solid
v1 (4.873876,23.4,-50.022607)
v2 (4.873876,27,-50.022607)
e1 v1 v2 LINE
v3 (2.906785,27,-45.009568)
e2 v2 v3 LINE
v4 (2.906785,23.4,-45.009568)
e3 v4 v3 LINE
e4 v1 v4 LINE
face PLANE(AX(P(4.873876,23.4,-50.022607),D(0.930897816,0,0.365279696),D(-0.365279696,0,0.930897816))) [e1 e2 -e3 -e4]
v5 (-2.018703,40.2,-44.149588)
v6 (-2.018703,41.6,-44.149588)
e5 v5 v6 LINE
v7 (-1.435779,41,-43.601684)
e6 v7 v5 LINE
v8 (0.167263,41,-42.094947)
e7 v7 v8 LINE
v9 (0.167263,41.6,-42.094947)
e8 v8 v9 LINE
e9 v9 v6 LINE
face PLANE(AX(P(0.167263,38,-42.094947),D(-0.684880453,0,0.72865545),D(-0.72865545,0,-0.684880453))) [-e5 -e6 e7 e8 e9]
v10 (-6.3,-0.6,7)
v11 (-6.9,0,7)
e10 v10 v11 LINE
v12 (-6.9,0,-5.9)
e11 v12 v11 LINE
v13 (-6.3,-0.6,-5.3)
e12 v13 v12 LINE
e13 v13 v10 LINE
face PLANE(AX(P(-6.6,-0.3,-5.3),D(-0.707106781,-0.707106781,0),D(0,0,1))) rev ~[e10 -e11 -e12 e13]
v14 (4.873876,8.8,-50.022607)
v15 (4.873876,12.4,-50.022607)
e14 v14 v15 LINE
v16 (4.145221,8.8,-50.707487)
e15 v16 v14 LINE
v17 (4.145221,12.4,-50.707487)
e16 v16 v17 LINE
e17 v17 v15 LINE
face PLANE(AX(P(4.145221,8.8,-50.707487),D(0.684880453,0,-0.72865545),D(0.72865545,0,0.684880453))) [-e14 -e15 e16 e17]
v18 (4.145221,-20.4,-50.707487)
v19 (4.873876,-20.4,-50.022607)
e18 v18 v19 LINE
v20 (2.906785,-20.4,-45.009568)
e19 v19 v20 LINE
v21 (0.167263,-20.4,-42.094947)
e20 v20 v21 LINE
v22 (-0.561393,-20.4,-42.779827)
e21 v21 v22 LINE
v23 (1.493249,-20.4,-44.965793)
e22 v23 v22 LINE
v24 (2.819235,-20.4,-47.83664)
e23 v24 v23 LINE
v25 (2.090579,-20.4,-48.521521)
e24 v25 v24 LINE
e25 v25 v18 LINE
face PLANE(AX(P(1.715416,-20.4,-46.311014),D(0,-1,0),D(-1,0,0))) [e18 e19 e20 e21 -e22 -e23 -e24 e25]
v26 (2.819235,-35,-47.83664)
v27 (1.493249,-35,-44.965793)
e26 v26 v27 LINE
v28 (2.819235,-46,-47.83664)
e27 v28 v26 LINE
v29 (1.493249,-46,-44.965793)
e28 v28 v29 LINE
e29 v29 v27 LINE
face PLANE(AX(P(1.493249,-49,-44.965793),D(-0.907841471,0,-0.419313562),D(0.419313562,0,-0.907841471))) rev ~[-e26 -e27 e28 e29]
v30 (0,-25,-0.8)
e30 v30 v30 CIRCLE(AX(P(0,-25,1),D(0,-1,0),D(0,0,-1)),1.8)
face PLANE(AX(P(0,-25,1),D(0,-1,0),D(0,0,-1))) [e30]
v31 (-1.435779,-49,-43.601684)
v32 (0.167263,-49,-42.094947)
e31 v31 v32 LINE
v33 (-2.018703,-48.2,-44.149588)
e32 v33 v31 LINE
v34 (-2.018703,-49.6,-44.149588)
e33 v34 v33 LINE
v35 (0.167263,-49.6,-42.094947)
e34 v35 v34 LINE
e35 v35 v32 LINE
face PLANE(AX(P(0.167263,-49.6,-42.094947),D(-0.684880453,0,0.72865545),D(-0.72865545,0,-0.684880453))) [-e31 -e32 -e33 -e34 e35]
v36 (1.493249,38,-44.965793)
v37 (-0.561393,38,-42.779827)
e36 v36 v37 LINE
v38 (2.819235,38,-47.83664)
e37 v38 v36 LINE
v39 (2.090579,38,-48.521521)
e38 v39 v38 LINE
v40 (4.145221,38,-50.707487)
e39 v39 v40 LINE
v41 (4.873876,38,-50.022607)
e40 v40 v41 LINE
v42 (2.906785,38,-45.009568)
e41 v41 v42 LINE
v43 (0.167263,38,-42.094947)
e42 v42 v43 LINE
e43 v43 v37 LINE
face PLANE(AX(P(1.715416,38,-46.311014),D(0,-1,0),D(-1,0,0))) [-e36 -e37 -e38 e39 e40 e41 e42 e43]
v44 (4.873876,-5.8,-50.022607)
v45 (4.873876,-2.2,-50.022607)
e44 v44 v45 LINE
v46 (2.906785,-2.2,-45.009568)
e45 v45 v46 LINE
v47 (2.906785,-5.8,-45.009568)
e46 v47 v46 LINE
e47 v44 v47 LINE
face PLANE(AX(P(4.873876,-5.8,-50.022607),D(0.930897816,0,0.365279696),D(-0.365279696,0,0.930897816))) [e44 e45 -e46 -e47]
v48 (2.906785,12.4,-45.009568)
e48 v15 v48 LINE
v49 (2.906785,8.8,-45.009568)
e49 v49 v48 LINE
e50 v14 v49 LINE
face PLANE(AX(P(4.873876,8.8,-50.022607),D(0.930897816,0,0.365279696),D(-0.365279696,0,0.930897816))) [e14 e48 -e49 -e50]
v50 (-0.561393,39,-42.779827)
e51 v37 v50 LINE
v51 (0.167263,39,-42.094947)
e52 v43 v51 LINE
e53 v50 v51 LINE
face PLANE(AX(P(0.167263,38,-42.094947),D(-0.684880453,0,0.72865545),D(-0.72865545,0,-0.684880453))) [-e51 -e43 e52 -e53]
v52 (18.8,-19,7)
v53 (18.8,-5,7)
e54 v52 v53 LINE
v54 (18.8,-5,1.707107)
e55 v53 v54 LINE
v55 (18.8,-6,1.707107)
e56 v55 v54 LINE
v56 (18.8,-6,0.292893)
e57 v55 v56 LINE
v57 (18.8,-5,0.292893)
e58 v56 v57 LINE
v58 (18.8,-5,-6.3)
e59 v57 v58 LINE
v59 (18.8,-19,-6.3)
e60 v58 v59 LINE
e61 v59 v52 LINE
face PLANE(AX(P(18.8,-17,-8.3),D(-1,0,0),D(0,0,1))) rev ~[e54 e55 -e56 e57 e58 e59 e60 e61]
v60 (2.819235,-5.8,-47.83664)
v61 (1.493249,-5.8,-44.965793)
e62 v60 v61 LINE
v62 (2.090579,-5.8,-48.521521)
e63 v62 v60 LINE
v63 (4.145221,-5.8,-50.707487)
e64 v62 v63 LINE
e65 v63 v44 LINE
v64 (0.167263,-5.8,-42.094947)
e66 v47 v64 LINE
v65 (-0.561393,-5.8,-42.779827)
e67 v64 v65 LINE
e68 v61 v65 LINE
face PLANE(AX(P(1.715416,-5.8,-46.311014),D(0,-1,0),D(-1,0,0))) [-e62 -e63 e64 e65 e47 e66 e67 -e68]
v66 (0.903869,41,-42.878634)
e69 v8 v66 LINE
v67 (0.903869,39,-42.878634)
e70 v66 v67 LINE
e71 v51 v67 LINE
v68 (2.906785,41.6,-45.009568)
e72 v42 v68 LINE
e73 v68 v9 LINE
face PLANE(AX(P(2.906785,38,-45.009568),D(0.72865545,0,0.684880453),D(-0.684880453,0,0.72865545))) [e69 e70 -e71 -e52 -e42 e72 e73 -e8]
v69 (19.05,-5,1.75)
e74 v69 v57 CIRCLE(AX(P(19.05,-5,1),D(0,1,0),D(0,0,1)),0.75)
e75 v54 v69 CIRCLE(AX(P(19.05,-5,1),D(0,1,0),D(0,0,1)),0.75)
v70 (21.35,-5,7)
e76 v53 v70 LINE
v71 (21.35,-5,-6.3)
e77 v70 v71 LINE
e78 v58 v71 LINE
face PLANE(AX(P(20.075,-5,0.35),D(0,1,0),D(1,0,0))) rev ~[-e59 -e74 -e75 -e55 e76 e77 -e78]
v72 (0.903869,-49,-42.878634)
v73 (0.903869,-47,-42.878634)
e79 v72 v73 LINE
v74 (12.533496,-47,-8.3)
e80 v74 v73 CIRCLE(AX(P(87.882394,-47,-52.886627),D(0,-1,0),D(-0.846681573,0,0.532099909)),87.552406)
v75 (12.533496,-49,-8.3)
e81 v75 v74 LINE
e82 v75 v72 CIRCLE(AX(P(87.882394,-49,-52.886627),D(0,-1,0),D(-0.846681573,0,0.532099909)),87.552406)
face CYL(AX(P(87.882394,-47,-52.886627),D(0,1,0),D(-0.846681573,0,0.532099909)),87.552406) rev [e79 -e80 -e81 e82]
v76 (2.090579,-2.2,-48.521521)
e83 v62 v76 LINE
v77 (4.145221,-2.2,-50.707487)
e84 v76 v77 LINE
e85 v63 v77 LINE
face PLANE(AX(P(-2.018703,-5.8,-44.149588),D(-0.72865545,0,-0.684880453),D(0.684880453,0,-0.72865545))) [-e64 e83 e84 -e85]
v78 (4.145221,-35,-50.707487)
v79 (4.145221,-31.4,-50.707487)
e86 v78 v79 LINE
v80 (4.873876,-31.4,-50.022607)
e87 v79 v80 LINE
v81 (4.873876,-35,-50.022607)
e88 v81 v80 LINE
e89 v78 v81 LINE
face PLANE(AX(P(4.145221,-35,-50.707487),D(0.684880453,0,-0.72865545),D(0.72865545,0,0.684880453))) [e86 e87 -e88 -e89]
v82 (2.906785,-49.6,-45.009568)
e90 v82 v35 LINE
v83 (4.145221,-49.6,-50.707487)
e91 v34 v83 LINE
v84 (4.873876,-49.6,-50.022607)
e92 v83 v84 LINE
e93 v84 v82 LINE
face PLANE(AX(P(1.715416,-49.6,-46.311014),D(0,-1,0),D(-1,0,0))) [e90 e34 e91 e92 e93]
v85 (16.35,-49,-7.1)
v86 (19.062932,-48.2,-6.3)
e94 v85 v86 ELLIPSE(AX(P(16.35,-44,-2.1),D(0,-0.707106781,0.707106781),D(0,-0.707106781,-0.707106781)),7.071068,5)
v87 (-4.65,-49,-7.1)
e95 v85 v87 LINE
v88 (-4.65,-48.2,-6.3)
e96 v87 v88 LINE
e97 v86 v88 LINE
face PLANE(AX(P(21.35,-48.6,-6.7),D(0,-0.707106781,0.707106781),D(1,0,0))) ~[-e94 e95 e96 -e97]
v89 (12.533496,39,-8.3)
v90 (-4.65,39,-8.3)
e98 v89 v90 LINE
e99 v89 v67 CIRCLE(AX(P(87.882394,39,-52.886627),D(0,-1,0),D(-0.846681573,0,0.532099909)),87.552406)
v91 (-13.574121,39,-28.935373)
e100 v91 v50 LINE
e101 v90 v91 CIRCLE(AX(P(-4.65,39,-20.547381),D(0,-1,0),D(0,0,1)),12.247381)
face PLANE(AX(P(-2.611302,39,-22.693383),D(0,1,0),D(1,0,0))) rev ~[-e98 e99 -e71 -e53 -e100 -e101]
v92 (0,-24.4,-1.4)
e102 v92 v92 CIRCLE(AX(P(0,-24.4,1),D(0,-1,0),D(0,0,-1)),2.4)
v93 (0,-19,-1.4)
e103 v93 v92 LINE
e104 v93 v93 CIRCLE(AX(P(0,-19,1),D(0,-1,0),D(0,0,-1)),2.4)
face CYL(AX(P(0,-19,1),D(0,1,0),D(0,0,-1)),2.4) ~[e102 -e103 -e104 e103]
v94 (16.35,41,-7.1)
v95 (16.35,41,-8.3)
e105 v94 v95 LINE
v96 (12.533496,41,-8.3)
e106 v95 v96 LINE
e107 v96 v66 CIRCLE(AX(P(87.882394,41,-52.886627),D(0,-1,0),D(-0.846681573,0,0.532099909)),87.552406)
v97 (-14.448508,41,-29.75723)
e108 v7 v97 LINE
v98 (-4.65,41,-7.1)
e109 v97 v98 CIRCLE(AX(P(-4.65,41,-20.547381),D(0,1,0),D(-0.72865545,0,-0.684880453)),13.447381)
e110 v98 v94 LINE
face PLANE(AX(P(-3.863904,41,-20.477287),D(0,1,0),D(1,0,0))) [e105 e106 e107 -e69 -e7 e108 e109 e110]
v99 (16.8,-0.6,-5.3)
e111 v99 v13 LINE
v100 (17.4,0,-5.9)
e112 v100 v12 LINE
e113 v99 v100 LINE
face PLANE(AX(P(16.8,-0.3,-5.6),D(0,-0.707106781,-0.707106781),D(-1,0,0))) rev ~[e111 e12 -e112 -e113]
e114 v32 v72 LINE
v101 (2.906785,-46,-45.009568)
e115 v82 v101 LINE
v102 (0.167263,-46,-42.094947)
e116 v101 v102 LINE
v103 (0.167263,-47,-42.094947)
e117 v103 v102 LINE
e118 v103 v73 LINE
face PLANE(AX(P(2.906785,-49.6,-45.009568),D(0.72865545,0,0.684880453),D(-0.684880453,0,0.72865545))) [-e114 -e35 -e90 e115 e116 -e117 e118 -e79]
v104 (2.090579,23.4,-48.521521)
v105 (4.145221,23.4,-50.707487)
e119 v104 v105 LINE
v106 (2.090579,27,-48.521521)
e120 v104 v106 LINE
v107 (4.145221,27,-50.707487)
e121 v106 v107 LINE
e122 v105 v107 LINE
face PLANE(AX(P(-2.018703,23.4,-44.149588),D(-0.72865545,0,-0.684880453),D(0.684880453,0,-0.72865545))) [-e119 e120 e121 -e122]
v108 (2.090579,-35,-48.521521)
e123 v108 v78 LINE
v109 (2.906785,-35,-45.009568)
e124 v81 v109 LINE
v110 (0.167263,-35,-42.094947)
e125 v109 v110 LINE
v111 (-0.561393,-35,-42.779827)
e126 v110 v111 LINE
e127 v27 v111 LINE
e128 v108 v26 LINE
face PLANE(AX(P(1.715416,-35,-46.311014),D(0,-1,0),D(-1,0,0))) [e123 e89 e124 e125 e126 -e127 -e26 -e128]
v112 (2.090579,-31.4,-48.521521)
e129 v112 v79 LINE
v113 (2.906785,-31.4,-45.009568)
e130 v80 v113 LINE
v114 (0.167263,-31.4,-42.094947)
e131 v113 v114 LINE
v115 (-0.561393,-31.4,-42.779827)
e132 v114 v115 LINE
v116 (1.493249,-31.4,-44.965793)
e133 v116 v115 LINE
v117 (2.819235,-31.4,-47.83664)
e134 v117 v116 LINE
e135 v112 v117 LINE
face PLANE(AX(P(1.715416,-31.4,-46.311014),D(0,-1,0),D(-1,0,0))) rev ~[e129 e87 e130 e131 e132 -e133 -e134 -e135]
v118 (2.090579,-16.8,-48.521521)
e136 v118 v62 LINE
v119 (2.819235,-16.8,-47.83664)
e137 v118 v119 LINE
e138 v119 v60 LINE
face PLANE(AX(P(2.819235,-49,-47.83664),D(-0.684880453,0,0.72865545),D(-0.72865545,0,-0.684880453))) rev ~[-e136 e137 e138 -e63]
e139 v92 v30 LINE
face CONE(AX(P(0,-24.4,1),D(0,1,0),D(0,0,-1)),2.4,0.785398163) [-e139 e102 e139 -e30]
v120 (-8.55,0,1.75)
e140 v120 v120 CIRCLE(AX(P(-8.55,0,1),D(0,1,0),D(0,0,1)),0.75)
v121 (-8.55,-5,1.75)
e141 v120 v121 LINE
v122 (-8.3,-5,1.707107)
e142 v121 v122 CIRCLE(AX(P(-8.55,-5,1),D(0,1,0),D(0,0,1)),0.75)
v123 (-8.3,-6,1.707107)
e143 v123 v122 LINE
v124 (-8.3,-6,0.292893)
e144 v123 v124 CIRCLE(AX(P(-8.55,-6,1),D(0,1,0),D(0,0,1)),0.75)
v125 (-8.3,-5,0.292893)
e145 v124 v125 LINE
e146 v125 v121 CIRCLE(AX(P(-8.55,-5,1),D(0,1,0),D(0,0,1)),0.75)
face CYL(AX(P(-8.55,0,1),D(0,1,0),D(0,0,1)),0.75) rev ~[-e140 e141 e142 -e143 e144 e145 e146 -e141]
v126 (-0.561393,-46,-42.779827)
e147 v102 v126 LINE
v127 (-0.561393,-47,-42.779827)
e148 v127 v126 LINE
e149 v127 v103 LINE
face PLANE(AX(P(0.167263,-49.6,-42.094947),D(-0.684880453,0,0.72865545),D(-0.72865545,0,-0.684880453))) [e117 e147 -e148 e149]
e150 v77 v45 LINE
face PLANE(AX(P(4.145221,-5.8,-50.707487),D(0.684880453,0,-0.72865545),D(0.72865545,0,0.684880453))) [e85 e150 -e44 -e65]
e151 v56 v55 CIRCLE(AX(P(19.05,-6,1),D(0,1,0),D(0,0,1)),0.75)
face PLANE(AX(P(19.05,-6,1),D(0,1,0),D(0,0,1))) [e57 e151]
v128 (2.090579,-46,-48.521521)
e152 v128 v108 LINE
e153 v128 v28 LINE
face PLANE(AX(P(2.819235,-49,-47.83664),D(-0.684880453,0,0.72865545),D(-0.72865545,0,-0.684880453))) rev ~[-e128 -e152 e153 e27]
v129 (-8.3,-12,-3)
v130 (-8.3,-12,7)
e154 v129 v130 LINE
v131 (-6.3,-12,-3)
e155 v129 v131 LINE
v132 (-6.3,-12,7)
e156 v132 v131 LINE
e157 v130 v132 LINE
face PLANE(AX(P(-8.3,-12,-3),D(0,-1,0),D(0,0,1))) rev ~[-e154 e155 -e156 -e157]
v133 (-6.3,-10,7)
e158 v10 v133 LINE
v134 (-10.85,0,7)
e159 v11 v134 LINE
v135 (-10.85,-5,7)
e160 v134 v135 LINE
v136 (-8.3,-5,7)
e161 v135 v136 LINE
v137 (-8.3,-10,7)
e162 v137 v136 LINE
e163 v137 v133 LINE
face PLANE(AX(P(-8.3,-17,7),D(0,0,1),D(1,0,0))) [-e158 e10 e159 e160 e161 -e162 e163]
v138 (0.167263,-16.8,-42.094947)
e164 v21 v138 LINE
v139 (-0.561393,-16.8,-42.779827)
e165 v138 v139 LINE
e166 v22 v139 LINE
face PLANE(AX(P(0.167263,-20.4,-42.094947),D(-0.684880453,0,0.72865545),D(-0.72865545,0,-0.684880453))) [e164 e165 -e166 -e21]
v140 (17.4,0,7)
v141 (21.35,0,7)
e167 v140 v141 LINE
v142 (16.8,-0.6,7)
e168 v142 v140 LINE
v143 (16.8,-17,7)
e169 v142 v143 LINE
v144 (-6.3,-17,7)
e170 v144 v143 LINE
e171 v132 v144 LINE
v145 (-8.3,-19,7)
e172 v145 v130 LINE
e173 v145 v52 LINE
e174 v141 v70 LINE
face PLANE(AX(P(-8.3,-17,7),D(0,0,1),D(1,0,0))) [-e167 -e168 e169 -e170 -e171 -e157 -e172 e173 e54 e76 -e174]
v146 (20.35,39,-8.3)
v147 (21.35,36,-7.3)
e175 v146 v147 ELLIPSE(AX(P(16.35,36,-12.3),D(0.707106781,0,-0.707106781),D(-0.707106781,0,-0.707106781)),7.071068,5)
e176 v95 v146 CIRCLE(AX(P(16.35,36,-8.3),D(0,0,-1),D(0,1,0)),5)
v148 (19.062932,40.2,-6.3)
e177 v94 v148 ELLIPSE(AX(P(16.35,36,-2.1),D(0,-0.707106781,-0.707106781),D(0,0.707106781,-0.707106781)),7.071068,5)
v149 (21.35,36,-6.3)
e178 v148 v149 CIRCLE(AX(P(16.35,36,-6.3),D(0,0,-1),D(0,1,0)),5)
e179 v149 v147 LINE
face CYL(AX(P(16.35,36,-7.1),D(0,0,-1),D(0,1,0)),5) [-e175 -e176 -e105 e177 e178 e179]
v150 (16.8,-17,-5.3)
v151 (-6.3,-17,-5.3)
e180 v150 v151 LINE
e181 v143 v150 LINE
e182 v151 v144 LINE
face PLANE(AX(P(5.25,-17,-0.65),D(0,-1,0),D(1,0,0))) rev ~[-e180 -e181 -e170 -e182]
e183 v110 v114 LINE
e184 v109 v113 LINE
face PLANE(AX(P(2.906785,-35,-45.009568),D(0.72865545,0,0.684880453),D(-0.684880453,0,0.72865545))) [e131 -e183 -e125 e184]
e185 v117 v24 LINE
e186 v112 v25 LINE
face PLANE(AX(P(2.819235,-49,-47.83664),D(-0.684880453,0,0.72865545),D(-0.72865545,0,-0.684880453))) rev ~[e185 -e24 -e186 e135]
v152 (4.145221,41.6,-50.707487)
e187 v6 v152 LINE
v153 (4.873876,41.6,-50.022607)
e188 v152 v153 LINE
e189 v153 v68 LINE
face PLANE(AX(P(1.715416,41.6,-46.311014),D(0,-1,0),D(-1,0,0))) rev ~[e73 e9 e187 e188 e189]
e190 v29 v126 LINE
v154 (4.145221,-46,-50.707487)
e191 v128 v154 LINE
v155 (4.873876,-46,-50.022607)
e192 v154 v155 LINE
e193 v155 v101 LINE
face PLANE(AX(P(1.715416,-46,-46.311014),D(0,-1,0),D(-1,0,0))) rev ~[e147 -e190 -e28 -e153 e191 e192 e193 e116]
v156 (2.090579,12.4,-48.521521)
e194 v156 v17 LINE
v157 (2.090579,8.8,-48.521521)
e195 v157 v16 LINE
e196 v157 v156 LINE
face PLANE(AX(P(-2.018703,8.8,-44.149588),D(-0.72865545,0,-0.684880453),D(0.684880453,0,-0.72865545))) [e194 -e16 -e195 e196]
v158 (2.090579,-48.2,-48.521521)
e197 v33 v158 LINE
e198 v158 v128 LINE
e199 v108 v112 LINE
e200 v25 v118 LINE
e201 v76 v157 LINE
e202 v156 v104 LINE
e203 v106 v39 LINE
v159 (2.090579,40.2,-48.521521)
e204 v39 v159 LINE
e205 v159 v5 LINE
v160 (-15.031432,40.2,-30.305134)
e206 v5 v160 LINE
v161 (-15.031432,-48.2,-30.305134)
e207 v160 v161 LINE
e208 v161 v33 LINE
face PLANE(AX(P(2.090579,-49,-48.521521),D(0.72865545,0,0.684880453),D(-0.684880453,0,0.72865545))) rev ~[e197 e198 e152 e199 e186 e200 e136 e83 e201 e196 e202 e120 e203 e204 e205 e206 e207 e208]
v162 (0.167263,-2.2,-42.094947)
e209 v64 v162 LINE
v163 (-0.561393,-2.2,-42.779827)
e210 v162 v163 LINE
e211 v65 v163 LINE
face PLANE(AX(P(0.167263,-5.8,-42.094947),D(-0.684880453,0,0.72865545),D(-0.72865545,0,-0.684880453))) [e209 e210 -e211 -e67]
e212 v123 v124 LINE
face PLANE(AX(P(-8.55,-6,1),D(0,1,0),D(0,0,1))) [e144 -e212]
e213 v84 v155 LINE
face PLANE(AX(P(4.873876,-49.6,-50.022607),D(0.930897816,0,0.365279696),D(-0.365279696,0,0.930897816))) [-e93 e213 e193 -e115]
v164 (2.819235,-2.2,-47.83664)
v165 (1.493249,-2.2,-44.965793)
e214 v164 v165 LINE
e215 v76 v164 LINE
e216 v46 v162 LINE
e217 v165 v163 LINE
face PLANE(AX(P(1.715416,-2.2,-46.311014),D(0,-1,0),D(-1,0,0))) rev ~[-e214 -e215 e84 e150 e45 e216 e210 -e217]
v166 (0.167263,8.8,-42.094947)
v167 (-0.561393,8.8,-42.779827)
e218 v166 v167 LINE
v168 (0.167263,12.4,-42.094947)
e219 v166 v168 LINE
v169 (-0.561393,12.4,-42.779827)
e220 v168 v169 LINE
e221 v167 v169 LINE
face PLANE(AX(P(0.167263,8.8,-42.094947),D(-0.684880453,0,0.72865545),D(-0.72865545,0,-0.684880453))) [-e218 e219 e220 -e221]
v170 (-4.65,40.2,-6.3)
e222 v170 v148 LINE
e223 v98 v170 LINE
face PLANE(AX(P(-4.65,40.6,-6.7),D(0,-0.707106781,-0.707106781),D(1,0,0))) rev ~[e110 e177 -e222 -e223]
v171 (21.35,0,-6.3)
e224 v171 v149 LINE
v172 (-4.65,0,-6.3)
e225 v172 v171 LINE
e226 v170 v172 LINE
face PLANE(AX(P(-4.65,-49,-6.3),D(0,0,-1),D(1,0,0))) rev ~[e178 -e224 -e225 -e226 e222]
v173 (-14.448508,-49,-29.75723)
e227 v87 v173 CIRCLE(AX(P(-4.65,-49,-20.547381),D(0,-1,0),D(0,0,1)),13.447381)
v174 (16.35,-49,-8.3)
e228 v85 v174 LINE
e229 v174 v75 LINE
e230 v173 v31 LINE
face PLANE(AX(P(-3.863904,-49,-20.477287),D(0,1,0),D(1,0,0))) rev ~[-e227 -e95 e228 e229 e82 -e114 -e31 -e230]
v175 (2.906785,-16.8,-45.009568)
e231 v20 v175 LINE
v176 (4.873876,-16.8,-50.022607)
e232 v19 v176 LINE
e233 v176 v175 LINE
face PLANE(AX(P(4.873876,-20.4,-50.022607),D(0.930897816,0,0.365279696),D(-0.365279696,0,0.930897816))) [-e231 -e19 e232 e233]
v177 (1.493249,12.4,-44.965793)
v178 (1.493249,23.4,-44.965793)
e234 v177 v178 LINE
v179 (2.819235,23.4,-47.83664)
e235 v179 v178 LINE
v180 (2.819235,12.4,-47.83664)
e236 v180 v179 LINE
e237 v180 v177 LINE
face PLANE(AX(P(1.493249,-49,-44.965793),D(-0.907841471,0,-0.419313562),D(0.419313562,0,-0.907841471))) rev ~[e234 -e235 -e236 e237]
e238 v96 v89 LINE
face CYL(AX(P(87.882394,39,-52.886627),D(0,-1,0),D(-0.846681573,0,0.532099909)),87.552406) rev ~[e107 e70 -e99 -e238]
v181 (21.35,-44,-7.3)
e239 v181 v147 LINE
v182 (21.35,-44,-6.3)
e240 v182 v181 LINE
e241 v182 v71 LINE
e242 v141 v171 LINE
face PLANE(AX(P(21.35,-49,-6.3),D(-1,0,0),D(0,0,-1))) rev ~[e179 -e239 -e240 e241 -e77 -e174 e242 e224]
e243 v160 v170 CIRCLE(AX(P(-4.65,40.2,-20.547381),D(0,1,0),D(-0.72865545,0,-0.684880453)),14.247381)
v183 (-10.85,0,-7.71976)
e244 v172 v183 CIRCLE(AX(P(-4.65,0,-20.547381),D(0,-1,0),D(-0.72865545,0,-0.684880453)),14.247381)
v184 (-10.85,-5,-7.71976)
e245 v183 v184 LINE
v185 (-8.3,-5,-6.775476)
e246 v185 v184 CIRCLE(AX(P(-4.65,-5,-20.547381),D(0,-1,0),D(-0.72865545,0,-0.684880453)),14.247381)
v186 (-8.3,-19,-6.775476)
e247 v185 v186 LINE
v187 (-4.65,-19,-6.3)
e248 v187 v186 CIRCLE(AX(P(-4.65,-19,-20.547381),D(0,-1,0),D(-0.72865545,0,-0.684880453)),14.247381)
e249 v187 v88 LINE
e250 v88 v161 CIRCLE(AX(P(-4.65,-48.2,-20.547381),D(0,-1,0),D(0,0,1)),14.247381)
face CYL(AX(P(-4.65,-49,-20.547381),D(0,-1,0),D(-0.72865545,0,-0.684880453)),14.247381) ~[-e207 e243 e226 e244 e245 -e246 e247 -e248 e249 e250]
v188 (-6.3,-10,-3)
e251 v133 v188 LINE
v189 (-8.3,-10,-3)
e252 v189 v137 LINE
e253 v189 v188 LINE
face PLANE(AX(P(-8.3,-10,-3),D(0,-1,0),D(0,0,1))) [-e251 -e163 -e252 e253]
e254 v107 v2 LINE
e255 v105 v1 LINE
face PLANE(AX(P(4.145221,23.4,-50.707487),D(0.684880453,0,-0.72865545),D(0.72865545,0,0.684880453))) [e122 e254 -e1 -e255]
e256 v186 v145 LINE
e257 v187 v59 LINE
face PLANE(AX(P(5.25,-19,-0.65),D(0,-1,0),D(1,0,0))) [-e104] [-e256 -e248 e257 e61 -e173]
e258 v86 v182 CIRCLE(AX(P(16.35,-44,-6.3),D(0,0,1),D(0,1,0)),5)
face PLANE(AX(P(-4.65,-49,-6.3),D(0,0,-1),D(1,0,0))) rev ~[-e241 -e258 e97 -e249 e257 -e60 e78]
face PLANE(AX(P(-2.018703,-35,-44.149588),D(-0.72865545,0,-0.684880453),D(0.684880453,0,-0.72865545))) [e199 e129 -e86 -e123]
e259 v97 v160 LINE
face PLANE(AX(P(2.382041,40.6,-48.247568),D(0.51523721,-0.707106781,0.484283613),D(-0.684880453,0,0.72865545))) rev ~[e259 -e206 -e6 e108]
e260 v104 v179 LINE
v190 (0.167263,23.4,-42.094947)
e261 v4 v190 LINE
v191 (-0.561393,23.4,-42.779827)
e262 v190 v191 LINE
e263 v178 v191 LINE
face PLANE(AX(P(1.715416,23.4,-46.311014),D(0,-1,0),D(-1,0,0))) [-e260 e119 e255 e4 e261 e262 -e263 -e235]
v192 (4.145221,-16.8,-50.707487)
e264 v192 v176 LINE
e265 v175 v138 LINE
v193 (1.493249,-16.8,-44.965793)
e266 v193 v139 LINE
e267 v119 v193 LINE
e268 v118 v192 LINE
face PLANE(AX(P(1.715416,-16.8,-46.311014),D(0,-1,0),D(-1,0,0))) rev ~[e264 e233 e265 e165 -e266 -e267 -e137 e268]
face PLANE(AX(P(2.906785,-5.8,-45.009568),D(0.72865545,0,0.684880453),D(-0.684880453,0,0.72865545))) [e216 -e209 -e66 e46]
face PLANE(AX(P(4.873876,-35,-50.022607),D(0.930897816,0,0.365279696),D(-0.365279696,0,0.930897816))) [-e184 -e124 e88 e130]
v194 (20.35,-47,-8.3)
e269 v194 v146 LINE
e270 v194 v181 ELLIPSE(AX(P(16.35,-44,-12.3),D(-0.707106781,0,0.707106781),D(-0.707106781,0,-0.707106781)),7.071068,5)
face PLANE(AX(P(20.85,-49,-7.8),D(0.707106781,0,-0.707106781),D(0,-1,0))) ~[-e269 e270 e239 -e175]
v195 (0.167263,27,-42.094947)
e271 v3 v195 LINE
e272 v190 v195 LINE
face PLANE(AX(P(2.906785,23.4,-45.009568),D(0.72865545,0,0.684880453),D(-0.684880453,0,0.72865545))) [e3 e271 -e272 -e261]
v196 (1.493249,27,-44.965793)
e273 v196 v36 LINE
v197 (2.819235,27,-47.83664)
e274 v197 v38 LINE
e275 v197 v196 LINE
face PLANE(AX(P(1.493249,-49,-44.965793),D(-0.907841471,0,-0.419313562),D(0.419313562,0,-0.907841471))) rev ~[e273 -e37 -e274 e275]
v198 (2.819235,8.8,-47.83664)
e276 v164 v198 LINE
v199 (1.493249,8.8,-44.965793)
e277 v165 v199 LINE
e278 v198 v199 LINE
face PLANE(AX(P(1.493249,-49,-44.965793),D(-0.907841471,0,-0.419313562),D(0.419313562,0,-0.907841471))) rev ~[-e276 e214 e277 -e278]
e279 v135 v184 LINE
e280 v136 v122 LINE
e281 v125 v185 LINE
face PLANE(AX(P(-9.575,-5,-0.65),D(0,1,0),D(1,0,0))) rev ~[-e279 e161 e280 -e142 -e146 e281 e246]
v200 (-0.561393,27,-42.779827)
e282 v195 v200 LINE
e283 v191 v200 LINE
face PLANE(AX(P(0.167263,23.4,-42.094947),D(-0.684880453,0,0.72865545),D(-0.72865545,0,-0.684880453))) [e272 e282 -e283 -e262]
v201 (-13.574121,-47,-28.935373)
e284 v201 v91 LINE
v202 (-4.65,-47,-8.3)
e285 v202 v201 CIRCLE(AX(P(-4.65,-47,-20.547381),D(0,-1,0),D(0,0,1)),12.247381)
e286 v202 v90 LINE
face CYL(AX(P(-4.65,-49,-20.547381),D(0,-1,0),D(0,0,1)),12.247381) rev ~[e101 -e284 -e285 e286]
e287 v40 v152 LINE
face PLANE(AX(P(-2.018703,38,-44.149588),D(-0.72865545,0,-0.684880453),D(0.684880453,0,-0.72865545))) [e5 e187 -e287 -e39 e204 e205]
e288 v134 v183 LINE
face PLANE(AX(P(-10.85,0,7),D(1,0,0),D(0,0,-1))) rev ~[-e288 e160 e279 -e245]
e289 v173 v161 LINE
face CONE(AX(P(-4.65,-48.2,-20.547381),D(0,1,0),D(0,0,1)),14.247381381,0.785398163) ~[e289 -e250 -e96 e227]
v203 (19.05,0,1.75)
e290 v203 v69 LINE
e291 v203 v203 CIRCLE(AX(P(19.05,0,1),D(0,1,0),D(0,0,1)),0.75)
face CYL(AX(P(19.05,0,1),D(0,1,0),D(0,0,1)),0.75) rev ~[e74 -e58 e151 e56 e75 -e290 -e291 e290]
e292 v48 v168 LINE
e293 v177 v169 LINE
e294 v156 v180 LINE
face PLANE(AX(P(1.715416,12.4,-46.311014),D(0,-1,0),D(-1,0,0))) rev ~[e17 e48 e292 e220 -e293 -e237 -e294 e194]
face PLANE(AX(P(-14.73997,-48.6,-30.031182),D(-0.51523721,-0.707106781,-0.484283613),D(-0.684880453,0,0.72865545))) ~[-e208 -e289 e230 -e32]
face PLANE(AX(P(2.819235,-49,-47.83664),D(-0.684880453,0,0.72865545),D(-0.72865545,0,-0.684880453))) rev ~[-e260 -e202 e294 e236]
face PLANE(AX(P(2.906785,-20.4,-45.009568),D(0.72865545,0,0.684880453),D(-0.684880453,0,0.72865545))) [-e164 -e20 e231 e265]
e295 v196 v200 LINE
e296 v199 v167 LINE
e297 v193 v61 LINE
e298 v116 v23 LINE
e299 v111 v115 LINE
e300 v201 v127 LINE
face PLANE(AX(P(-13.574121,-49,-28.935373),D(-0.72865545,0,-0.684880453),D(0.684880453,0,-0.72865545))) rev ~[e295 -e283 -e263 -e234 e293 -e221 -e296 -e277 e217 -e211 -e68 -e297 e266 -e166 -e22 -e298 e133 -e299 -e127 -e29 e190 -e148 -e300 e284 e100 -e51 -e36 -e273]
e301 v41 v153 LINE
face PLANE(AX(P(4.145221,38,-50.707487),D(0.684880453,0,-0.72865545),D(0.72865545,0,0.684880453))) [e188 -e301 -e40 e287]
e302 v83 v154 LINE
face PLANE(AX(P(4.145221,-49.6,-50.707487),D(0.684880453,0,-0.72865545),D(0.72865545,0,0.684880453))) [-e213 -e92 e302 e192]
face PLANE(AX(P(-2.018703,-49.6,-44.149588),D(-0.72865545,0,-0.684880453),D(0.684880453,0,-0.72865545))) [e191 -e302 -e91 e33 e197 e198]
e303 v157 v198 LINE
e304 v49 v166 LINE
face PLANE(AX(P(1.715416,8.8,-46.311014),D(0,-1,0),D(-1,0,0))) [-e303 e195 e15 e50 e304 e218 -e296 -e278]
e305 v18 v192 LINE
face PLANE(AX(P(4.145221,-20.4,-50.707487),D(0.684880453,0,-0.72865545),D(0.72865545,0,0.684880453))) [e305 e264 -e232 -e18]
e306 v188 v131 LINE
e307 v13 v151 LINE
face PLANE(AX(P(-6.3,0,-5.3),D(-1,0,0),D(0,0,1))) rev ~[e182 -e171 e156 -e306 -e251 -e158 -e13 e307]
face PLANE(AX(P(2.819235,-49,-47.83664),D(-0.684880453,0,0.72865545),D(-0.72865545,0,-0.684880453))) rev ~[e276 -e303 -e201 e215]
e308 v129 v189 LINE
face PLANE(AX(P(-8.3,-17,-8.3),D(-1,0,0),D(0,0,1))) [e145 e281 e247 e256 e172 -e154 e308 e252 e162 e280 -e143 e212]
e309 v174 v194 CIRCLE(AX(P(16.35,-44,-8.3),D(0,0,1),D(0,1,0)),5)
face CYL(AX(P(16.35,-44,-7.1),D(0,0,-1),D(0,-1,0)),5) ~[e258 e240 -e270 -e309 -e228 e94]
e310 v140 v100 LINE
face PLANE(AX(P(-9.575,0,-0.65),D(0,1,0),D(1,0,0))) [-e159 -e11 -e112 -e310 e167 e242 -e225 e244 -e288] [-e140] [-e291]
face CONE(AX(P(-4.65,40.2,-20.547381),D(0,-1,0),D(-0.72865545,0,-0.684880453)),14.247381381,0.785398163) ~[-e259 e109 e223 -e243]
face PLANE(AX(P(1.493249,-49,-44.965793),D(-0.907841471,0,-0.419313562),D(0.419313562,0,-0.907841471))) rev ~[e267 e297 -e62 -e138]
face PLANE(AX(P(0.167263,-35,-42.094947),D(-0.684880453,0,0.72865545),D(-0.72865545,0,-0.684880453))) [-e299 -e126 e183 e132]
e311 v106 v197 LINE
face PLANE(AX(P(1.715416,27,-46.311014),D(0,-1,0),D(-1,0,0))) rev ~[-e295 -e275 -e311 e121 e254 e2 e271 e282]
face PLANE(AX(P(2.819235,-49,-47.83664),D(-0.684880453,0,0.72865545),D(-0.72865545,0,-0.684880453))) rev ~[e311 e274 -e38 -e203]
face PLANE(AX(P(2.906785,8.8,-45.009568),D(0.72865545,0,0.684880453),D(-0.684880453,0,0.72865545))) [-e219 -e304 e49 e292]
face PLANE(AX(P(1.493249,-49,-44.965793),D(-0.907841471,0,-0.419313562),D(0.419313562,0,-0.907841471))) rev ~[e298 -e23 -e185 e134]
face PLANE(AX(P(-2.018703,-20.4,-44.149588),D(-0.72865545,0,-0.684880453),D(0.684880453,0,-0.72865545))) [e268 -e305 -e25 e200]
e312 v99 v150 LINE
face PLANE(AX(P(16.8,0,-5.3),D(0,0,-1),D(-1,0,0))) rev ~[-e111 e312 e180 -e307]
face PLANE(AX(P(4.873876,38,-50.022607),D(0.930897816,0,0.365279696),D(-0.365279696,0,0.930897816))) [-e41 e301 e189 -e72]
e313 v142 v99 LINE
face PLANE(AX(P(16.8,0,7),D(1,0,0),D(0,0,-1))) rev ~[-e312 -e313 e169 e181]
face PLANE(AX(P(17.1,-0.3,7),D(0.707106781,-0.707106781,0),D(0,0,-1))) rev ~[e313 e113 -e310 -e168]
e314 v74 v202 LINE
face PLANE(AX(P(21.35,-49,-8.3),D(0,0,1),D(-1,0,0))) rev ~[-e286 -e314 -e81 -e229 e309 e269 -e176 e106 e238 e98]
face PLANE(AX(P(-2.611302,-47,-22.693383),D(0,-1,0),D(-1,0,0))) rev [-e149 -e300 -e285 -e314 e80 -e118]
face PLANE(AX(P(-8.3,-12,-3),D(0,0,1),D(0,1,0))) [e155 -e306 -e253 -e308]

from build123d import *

# Parameters (mm, degrees)
BOSS_EXTRUDE1_DEPTH      = 17
SKETCH4_W                = 2.55
SKETCH4_H                = 15.3
SKETCH4_H_2              = 13.3
BOSS_EXTRUDE4_DEPTH      = 5
CHAMFER1_SIZE            = 0.6
SKETCH2_W                = 27.1
SKETCH2_H                = 15.3
BOSS_EXTRUDE2_DEPTH      = 2
SKETCH3_R                = 2.4
BOSS_EXTRUDE3_DEPTH      = 6
SKETCH5_R                = 0.75
CUT_EXTRUDE1_DEPTH       = 6
CUT_EXTRUDE2_REACH       = 41.661
SKETCH7_W                = 10
SKETCH7_H                = 2
BOSS_EXTRUDE5_DEPTH      = 45
BOSS_EXTRUDE5_DEPTH_BACK = 45
BOSS_EXTRUDE6_START      = -2
BOSS_EXTRUDE6_DEPTH      = 2
CHAMFER2_SIZE            = 0.6
CHAMFER4_SIZE            = 1
CHAMFER5_SIZE            = 0.8
BOSS_EXTRUDE7_START      = -3
BOSS_EXTRUDE7_DEPTH      = 3.6
LPATTERN1_COUNT          = 7
LPATTERN1_PITCH          = 14.6
FILLET1_R                = 5


with BuildPart() as part:
    # Sketch1 → Boss-Extrude1 (new body)
    with BuildSketch(Plane(origin=(0, 0, 0), x_dir=(1, 0, 0), z_dir=(0, 1, 0))):
        Polygon((-6.3, 5.3), (-6.3, -7), (-8.3, -7), (-8.3, 8.3), (18.8, 8.3), (18.8, -7), (16.8, -7), (16.8, 5.3), align=None)
    extrude(amount=-BOSS_EXTRUDE1_DEPTH)

    # Sketch4 → Boss-Extrude4 (add)
    with BuildSketch(Plane(origin=(0, 0, 0), x_dir=(1, 0, 0), z_dir=(0, 1, 0))):
        with Locations((-9.575, 0.65)):
            Rectangle(SKETCH4_W, SKETCH4_H)
        with Locations((20.075, -0.35)):
            Rectangle(SKETCH4_W, SKETCH4_H_2)
    extrude(amount=-BOSS_EXTRUDE4_DEPTH)

    # Chamfer1
    chamfer1_edges = [part.edges().sort_by_distance(p)[0] for p in [
        (16.8, 0, 0.85),
        (5.25, 0, -5.3),
        (-6.3, 0, 0.85),
    ]]
    chamfer(chamfer1_edges, length=CHAMFER1_SIZE)

    # Sketch2 → Boss-Extrude2 (add)
    with BuildSketch(Plane.XZ.offset(17)):
        with Locations((5.25, -0.65)):
            Rectangle(SKETCH2_W, SKETCH2_H)
    extrude(amount=BOSS_EXTRUDE2_DEPTH)

    # Sketch3 → Boss-Extrude3 (add)
    with BuildSketch(Plane.XZ.offset(19)):
        with Locations(Location((0, 1, 0), (0, 0, 270))):
            Circle(SKETCH3_R)
    extrude(amount=BOSS_EXTRUDE3_DEPTH)

    # Sketch5 → Cut-Extrude1 (cut)
    with BuildSketch(Plane(origin=(0, 0, 0), x_dir=(1, 0, 0), z_dir=(0, 1, 0))):
        with Locations(Location((-8.55, -1, 0), (0, 0, 270))):
            Circle(SKETCH5_R)
        with Locations(Location((19.05, -1, 0), (0, 0, 270))):
            Circle(SKETCH5_R)
    extrude(amount=-CUT_EXTRUDE1_DEPTH, mode=Mode.SUBTRACT)

    # Sketch7 → Cut-Extrude2 (cut, up to next)
    with BuildSketch(Plane.ZY.offset(8.3), mode=Mode.PRIVATE) as cut_extrude2_sk1:
        with Locations((2, -11)):
            Rectangle(SKETCH7_W, SKETCH7_H)
    cut_extrude2_tool1 = extrude(cut_extrude2_sk1.sketch, amount=-CUT_EXTRUDE2_REACH, mode=Mode.PRIVATE) & part.part
    add(cut_extrude2_tool1.solids().sort_by_distance((-8.3, -11, 2))[0], mode=Mode.SUBTRACT)

    # Sketch8 → Boss-Extrude5 (add, two sides: drawn at the far end of the back side and taken through both)
    with BuildSketch(Plane(origin=(0, -4, 1), x_dir=(1, 0, 0), z_dir=(0, 1, 0)).offset(-BOSS_EXTRUDE5_DEPTH_BACK)):
        with BuildLine():
            Line((21.35, 9.3), (-4.65, 9.3))
            ThreePointArc((-4.65, 9.3), (-15.891202985, 16.685930347), (-13.574121194, 29.935373491))
            Line((-13.574121194, 29.935373491), (1.493248773, 45.965793394))
            Line((1.493248773, 45.965793394), (2.819234682, 48.836640198))
            Line((2.819234682, 48.836640198), (2.090579232, 49.521520651))
            Line((2.090579232, 49.521520651), (-15.031432094, 31.305134397))
            ThreePointArc((-15.031432094, 31.305134397), (-17.726893838, 15.892054353), (-4.65, 7.3))
            Line((-4.65, 7.3), (21.35, 7.3))
            Line((21.35, 7.3), (21.35, 9.3))
        make_face()
    extrude(amount=BOSS_EXTRUDE5_DEPTH + BOSS_EXTRUDE5_DEPTH_BACK)

    # Sketch11 → Boss-Extrude6 (add)
    with BuildSketch(Plane(origin=(0, 41, 0), x_dir=(1, 0, 0), z_dir=(0, 1, 0)).offset(BOSS_EXTRUDE6_START)):
        with BuildLine():
            Line((0.537054569, 46.868700502), (-15.031432094, 30.305134397))
            ThreePointArc((-15.031432094, 30.305134397), (-17.726893838, 14.892054353), (-4.65, 6.3))
            Line((-4.65, 6.3), (13.753385306, 6.3))
            ThreePointArc((13.753385306, 6.3), (4.636095939, 25.766936525), (0.537054569, 46.868700502))
        make_face()
    boss_extrude6 = extrude(amount=BOSS_EXTRUDE6_DEPTH)

    # Mirror1: Boss-Extrude6 across plane
    add(boss_extrude6.mirror(Plane(origin=(0, -4, 1), x_dir=(0, 0, 1), z_dir=(0, 1, 0))))

    # Chamfer2
    chamfer2_edges = [part.edges().sort_by_distance(p)[0] for p in [
        (0, -25, 3.4),
    ]]
    chamfer(chamfer2_edges, length=CHAMFER2_SIZE)

    # Chamfer4
    chamfer4_edges = [part.edges().sort_by_distance(p)[0] for p in [
        (21.35, -4, -8.3),
    ]]
    chamfer(chamfer4_edges, length=CHAMFER4_SIZE)

    # Chamfer5
    chamfer5_edges = [part.edges().sort_by_distance(p)[0] for p in [
        (8.35, -49, -6.3),
        (-17.726893838, -49, -14.892054353),
        (-6.470426431, -49, -39.413327524),
        (-6.470426431, 41, -39.413327524),
        (-17.726893838, 41, -14.892054353),
        (8.35, 41, -6.3),
    ]]
    chamfer(chamfer5_edges, length=CHAMFER5_SIZE)

    # Sketch12 → Boss-Extrude7 (add)
    with BuildSketch(Plane(origin=(0, 41, 0), x_dir=(1, 0, 0), z_dir=(0, 1, 0)).offset(BOSS_EXTRUDE7_START)):
        Polygon((-2.018703486, 44.14958795), (4.145220591, 50.707487001), (4.873876041, 50.022606548), (2.906784676, 45.009568392), (0.167262864, 42.094946591), align=None)
    boss_extrude7 = extrude(amount=BOSS_EXTRUDE7_DEPTH)

    # LPattern1: Boss-Extrude7 ×7
    with Locations(*[(0, -i * LPATTERN1_PITCH, 0) for i in range(1, LPATTERN1_COUNT)]):
        add(boss_extrude7)

    # Fillet1
    fillet1_edges = [part.edges().sort_by_distance(p)[0] for p in [
        (21.35, 41, -7.2),
        (21.35, -49, -7.2),
    ]]
    fillet(fillet1_edges, radius=FILLET1_R)


solid = part.part
